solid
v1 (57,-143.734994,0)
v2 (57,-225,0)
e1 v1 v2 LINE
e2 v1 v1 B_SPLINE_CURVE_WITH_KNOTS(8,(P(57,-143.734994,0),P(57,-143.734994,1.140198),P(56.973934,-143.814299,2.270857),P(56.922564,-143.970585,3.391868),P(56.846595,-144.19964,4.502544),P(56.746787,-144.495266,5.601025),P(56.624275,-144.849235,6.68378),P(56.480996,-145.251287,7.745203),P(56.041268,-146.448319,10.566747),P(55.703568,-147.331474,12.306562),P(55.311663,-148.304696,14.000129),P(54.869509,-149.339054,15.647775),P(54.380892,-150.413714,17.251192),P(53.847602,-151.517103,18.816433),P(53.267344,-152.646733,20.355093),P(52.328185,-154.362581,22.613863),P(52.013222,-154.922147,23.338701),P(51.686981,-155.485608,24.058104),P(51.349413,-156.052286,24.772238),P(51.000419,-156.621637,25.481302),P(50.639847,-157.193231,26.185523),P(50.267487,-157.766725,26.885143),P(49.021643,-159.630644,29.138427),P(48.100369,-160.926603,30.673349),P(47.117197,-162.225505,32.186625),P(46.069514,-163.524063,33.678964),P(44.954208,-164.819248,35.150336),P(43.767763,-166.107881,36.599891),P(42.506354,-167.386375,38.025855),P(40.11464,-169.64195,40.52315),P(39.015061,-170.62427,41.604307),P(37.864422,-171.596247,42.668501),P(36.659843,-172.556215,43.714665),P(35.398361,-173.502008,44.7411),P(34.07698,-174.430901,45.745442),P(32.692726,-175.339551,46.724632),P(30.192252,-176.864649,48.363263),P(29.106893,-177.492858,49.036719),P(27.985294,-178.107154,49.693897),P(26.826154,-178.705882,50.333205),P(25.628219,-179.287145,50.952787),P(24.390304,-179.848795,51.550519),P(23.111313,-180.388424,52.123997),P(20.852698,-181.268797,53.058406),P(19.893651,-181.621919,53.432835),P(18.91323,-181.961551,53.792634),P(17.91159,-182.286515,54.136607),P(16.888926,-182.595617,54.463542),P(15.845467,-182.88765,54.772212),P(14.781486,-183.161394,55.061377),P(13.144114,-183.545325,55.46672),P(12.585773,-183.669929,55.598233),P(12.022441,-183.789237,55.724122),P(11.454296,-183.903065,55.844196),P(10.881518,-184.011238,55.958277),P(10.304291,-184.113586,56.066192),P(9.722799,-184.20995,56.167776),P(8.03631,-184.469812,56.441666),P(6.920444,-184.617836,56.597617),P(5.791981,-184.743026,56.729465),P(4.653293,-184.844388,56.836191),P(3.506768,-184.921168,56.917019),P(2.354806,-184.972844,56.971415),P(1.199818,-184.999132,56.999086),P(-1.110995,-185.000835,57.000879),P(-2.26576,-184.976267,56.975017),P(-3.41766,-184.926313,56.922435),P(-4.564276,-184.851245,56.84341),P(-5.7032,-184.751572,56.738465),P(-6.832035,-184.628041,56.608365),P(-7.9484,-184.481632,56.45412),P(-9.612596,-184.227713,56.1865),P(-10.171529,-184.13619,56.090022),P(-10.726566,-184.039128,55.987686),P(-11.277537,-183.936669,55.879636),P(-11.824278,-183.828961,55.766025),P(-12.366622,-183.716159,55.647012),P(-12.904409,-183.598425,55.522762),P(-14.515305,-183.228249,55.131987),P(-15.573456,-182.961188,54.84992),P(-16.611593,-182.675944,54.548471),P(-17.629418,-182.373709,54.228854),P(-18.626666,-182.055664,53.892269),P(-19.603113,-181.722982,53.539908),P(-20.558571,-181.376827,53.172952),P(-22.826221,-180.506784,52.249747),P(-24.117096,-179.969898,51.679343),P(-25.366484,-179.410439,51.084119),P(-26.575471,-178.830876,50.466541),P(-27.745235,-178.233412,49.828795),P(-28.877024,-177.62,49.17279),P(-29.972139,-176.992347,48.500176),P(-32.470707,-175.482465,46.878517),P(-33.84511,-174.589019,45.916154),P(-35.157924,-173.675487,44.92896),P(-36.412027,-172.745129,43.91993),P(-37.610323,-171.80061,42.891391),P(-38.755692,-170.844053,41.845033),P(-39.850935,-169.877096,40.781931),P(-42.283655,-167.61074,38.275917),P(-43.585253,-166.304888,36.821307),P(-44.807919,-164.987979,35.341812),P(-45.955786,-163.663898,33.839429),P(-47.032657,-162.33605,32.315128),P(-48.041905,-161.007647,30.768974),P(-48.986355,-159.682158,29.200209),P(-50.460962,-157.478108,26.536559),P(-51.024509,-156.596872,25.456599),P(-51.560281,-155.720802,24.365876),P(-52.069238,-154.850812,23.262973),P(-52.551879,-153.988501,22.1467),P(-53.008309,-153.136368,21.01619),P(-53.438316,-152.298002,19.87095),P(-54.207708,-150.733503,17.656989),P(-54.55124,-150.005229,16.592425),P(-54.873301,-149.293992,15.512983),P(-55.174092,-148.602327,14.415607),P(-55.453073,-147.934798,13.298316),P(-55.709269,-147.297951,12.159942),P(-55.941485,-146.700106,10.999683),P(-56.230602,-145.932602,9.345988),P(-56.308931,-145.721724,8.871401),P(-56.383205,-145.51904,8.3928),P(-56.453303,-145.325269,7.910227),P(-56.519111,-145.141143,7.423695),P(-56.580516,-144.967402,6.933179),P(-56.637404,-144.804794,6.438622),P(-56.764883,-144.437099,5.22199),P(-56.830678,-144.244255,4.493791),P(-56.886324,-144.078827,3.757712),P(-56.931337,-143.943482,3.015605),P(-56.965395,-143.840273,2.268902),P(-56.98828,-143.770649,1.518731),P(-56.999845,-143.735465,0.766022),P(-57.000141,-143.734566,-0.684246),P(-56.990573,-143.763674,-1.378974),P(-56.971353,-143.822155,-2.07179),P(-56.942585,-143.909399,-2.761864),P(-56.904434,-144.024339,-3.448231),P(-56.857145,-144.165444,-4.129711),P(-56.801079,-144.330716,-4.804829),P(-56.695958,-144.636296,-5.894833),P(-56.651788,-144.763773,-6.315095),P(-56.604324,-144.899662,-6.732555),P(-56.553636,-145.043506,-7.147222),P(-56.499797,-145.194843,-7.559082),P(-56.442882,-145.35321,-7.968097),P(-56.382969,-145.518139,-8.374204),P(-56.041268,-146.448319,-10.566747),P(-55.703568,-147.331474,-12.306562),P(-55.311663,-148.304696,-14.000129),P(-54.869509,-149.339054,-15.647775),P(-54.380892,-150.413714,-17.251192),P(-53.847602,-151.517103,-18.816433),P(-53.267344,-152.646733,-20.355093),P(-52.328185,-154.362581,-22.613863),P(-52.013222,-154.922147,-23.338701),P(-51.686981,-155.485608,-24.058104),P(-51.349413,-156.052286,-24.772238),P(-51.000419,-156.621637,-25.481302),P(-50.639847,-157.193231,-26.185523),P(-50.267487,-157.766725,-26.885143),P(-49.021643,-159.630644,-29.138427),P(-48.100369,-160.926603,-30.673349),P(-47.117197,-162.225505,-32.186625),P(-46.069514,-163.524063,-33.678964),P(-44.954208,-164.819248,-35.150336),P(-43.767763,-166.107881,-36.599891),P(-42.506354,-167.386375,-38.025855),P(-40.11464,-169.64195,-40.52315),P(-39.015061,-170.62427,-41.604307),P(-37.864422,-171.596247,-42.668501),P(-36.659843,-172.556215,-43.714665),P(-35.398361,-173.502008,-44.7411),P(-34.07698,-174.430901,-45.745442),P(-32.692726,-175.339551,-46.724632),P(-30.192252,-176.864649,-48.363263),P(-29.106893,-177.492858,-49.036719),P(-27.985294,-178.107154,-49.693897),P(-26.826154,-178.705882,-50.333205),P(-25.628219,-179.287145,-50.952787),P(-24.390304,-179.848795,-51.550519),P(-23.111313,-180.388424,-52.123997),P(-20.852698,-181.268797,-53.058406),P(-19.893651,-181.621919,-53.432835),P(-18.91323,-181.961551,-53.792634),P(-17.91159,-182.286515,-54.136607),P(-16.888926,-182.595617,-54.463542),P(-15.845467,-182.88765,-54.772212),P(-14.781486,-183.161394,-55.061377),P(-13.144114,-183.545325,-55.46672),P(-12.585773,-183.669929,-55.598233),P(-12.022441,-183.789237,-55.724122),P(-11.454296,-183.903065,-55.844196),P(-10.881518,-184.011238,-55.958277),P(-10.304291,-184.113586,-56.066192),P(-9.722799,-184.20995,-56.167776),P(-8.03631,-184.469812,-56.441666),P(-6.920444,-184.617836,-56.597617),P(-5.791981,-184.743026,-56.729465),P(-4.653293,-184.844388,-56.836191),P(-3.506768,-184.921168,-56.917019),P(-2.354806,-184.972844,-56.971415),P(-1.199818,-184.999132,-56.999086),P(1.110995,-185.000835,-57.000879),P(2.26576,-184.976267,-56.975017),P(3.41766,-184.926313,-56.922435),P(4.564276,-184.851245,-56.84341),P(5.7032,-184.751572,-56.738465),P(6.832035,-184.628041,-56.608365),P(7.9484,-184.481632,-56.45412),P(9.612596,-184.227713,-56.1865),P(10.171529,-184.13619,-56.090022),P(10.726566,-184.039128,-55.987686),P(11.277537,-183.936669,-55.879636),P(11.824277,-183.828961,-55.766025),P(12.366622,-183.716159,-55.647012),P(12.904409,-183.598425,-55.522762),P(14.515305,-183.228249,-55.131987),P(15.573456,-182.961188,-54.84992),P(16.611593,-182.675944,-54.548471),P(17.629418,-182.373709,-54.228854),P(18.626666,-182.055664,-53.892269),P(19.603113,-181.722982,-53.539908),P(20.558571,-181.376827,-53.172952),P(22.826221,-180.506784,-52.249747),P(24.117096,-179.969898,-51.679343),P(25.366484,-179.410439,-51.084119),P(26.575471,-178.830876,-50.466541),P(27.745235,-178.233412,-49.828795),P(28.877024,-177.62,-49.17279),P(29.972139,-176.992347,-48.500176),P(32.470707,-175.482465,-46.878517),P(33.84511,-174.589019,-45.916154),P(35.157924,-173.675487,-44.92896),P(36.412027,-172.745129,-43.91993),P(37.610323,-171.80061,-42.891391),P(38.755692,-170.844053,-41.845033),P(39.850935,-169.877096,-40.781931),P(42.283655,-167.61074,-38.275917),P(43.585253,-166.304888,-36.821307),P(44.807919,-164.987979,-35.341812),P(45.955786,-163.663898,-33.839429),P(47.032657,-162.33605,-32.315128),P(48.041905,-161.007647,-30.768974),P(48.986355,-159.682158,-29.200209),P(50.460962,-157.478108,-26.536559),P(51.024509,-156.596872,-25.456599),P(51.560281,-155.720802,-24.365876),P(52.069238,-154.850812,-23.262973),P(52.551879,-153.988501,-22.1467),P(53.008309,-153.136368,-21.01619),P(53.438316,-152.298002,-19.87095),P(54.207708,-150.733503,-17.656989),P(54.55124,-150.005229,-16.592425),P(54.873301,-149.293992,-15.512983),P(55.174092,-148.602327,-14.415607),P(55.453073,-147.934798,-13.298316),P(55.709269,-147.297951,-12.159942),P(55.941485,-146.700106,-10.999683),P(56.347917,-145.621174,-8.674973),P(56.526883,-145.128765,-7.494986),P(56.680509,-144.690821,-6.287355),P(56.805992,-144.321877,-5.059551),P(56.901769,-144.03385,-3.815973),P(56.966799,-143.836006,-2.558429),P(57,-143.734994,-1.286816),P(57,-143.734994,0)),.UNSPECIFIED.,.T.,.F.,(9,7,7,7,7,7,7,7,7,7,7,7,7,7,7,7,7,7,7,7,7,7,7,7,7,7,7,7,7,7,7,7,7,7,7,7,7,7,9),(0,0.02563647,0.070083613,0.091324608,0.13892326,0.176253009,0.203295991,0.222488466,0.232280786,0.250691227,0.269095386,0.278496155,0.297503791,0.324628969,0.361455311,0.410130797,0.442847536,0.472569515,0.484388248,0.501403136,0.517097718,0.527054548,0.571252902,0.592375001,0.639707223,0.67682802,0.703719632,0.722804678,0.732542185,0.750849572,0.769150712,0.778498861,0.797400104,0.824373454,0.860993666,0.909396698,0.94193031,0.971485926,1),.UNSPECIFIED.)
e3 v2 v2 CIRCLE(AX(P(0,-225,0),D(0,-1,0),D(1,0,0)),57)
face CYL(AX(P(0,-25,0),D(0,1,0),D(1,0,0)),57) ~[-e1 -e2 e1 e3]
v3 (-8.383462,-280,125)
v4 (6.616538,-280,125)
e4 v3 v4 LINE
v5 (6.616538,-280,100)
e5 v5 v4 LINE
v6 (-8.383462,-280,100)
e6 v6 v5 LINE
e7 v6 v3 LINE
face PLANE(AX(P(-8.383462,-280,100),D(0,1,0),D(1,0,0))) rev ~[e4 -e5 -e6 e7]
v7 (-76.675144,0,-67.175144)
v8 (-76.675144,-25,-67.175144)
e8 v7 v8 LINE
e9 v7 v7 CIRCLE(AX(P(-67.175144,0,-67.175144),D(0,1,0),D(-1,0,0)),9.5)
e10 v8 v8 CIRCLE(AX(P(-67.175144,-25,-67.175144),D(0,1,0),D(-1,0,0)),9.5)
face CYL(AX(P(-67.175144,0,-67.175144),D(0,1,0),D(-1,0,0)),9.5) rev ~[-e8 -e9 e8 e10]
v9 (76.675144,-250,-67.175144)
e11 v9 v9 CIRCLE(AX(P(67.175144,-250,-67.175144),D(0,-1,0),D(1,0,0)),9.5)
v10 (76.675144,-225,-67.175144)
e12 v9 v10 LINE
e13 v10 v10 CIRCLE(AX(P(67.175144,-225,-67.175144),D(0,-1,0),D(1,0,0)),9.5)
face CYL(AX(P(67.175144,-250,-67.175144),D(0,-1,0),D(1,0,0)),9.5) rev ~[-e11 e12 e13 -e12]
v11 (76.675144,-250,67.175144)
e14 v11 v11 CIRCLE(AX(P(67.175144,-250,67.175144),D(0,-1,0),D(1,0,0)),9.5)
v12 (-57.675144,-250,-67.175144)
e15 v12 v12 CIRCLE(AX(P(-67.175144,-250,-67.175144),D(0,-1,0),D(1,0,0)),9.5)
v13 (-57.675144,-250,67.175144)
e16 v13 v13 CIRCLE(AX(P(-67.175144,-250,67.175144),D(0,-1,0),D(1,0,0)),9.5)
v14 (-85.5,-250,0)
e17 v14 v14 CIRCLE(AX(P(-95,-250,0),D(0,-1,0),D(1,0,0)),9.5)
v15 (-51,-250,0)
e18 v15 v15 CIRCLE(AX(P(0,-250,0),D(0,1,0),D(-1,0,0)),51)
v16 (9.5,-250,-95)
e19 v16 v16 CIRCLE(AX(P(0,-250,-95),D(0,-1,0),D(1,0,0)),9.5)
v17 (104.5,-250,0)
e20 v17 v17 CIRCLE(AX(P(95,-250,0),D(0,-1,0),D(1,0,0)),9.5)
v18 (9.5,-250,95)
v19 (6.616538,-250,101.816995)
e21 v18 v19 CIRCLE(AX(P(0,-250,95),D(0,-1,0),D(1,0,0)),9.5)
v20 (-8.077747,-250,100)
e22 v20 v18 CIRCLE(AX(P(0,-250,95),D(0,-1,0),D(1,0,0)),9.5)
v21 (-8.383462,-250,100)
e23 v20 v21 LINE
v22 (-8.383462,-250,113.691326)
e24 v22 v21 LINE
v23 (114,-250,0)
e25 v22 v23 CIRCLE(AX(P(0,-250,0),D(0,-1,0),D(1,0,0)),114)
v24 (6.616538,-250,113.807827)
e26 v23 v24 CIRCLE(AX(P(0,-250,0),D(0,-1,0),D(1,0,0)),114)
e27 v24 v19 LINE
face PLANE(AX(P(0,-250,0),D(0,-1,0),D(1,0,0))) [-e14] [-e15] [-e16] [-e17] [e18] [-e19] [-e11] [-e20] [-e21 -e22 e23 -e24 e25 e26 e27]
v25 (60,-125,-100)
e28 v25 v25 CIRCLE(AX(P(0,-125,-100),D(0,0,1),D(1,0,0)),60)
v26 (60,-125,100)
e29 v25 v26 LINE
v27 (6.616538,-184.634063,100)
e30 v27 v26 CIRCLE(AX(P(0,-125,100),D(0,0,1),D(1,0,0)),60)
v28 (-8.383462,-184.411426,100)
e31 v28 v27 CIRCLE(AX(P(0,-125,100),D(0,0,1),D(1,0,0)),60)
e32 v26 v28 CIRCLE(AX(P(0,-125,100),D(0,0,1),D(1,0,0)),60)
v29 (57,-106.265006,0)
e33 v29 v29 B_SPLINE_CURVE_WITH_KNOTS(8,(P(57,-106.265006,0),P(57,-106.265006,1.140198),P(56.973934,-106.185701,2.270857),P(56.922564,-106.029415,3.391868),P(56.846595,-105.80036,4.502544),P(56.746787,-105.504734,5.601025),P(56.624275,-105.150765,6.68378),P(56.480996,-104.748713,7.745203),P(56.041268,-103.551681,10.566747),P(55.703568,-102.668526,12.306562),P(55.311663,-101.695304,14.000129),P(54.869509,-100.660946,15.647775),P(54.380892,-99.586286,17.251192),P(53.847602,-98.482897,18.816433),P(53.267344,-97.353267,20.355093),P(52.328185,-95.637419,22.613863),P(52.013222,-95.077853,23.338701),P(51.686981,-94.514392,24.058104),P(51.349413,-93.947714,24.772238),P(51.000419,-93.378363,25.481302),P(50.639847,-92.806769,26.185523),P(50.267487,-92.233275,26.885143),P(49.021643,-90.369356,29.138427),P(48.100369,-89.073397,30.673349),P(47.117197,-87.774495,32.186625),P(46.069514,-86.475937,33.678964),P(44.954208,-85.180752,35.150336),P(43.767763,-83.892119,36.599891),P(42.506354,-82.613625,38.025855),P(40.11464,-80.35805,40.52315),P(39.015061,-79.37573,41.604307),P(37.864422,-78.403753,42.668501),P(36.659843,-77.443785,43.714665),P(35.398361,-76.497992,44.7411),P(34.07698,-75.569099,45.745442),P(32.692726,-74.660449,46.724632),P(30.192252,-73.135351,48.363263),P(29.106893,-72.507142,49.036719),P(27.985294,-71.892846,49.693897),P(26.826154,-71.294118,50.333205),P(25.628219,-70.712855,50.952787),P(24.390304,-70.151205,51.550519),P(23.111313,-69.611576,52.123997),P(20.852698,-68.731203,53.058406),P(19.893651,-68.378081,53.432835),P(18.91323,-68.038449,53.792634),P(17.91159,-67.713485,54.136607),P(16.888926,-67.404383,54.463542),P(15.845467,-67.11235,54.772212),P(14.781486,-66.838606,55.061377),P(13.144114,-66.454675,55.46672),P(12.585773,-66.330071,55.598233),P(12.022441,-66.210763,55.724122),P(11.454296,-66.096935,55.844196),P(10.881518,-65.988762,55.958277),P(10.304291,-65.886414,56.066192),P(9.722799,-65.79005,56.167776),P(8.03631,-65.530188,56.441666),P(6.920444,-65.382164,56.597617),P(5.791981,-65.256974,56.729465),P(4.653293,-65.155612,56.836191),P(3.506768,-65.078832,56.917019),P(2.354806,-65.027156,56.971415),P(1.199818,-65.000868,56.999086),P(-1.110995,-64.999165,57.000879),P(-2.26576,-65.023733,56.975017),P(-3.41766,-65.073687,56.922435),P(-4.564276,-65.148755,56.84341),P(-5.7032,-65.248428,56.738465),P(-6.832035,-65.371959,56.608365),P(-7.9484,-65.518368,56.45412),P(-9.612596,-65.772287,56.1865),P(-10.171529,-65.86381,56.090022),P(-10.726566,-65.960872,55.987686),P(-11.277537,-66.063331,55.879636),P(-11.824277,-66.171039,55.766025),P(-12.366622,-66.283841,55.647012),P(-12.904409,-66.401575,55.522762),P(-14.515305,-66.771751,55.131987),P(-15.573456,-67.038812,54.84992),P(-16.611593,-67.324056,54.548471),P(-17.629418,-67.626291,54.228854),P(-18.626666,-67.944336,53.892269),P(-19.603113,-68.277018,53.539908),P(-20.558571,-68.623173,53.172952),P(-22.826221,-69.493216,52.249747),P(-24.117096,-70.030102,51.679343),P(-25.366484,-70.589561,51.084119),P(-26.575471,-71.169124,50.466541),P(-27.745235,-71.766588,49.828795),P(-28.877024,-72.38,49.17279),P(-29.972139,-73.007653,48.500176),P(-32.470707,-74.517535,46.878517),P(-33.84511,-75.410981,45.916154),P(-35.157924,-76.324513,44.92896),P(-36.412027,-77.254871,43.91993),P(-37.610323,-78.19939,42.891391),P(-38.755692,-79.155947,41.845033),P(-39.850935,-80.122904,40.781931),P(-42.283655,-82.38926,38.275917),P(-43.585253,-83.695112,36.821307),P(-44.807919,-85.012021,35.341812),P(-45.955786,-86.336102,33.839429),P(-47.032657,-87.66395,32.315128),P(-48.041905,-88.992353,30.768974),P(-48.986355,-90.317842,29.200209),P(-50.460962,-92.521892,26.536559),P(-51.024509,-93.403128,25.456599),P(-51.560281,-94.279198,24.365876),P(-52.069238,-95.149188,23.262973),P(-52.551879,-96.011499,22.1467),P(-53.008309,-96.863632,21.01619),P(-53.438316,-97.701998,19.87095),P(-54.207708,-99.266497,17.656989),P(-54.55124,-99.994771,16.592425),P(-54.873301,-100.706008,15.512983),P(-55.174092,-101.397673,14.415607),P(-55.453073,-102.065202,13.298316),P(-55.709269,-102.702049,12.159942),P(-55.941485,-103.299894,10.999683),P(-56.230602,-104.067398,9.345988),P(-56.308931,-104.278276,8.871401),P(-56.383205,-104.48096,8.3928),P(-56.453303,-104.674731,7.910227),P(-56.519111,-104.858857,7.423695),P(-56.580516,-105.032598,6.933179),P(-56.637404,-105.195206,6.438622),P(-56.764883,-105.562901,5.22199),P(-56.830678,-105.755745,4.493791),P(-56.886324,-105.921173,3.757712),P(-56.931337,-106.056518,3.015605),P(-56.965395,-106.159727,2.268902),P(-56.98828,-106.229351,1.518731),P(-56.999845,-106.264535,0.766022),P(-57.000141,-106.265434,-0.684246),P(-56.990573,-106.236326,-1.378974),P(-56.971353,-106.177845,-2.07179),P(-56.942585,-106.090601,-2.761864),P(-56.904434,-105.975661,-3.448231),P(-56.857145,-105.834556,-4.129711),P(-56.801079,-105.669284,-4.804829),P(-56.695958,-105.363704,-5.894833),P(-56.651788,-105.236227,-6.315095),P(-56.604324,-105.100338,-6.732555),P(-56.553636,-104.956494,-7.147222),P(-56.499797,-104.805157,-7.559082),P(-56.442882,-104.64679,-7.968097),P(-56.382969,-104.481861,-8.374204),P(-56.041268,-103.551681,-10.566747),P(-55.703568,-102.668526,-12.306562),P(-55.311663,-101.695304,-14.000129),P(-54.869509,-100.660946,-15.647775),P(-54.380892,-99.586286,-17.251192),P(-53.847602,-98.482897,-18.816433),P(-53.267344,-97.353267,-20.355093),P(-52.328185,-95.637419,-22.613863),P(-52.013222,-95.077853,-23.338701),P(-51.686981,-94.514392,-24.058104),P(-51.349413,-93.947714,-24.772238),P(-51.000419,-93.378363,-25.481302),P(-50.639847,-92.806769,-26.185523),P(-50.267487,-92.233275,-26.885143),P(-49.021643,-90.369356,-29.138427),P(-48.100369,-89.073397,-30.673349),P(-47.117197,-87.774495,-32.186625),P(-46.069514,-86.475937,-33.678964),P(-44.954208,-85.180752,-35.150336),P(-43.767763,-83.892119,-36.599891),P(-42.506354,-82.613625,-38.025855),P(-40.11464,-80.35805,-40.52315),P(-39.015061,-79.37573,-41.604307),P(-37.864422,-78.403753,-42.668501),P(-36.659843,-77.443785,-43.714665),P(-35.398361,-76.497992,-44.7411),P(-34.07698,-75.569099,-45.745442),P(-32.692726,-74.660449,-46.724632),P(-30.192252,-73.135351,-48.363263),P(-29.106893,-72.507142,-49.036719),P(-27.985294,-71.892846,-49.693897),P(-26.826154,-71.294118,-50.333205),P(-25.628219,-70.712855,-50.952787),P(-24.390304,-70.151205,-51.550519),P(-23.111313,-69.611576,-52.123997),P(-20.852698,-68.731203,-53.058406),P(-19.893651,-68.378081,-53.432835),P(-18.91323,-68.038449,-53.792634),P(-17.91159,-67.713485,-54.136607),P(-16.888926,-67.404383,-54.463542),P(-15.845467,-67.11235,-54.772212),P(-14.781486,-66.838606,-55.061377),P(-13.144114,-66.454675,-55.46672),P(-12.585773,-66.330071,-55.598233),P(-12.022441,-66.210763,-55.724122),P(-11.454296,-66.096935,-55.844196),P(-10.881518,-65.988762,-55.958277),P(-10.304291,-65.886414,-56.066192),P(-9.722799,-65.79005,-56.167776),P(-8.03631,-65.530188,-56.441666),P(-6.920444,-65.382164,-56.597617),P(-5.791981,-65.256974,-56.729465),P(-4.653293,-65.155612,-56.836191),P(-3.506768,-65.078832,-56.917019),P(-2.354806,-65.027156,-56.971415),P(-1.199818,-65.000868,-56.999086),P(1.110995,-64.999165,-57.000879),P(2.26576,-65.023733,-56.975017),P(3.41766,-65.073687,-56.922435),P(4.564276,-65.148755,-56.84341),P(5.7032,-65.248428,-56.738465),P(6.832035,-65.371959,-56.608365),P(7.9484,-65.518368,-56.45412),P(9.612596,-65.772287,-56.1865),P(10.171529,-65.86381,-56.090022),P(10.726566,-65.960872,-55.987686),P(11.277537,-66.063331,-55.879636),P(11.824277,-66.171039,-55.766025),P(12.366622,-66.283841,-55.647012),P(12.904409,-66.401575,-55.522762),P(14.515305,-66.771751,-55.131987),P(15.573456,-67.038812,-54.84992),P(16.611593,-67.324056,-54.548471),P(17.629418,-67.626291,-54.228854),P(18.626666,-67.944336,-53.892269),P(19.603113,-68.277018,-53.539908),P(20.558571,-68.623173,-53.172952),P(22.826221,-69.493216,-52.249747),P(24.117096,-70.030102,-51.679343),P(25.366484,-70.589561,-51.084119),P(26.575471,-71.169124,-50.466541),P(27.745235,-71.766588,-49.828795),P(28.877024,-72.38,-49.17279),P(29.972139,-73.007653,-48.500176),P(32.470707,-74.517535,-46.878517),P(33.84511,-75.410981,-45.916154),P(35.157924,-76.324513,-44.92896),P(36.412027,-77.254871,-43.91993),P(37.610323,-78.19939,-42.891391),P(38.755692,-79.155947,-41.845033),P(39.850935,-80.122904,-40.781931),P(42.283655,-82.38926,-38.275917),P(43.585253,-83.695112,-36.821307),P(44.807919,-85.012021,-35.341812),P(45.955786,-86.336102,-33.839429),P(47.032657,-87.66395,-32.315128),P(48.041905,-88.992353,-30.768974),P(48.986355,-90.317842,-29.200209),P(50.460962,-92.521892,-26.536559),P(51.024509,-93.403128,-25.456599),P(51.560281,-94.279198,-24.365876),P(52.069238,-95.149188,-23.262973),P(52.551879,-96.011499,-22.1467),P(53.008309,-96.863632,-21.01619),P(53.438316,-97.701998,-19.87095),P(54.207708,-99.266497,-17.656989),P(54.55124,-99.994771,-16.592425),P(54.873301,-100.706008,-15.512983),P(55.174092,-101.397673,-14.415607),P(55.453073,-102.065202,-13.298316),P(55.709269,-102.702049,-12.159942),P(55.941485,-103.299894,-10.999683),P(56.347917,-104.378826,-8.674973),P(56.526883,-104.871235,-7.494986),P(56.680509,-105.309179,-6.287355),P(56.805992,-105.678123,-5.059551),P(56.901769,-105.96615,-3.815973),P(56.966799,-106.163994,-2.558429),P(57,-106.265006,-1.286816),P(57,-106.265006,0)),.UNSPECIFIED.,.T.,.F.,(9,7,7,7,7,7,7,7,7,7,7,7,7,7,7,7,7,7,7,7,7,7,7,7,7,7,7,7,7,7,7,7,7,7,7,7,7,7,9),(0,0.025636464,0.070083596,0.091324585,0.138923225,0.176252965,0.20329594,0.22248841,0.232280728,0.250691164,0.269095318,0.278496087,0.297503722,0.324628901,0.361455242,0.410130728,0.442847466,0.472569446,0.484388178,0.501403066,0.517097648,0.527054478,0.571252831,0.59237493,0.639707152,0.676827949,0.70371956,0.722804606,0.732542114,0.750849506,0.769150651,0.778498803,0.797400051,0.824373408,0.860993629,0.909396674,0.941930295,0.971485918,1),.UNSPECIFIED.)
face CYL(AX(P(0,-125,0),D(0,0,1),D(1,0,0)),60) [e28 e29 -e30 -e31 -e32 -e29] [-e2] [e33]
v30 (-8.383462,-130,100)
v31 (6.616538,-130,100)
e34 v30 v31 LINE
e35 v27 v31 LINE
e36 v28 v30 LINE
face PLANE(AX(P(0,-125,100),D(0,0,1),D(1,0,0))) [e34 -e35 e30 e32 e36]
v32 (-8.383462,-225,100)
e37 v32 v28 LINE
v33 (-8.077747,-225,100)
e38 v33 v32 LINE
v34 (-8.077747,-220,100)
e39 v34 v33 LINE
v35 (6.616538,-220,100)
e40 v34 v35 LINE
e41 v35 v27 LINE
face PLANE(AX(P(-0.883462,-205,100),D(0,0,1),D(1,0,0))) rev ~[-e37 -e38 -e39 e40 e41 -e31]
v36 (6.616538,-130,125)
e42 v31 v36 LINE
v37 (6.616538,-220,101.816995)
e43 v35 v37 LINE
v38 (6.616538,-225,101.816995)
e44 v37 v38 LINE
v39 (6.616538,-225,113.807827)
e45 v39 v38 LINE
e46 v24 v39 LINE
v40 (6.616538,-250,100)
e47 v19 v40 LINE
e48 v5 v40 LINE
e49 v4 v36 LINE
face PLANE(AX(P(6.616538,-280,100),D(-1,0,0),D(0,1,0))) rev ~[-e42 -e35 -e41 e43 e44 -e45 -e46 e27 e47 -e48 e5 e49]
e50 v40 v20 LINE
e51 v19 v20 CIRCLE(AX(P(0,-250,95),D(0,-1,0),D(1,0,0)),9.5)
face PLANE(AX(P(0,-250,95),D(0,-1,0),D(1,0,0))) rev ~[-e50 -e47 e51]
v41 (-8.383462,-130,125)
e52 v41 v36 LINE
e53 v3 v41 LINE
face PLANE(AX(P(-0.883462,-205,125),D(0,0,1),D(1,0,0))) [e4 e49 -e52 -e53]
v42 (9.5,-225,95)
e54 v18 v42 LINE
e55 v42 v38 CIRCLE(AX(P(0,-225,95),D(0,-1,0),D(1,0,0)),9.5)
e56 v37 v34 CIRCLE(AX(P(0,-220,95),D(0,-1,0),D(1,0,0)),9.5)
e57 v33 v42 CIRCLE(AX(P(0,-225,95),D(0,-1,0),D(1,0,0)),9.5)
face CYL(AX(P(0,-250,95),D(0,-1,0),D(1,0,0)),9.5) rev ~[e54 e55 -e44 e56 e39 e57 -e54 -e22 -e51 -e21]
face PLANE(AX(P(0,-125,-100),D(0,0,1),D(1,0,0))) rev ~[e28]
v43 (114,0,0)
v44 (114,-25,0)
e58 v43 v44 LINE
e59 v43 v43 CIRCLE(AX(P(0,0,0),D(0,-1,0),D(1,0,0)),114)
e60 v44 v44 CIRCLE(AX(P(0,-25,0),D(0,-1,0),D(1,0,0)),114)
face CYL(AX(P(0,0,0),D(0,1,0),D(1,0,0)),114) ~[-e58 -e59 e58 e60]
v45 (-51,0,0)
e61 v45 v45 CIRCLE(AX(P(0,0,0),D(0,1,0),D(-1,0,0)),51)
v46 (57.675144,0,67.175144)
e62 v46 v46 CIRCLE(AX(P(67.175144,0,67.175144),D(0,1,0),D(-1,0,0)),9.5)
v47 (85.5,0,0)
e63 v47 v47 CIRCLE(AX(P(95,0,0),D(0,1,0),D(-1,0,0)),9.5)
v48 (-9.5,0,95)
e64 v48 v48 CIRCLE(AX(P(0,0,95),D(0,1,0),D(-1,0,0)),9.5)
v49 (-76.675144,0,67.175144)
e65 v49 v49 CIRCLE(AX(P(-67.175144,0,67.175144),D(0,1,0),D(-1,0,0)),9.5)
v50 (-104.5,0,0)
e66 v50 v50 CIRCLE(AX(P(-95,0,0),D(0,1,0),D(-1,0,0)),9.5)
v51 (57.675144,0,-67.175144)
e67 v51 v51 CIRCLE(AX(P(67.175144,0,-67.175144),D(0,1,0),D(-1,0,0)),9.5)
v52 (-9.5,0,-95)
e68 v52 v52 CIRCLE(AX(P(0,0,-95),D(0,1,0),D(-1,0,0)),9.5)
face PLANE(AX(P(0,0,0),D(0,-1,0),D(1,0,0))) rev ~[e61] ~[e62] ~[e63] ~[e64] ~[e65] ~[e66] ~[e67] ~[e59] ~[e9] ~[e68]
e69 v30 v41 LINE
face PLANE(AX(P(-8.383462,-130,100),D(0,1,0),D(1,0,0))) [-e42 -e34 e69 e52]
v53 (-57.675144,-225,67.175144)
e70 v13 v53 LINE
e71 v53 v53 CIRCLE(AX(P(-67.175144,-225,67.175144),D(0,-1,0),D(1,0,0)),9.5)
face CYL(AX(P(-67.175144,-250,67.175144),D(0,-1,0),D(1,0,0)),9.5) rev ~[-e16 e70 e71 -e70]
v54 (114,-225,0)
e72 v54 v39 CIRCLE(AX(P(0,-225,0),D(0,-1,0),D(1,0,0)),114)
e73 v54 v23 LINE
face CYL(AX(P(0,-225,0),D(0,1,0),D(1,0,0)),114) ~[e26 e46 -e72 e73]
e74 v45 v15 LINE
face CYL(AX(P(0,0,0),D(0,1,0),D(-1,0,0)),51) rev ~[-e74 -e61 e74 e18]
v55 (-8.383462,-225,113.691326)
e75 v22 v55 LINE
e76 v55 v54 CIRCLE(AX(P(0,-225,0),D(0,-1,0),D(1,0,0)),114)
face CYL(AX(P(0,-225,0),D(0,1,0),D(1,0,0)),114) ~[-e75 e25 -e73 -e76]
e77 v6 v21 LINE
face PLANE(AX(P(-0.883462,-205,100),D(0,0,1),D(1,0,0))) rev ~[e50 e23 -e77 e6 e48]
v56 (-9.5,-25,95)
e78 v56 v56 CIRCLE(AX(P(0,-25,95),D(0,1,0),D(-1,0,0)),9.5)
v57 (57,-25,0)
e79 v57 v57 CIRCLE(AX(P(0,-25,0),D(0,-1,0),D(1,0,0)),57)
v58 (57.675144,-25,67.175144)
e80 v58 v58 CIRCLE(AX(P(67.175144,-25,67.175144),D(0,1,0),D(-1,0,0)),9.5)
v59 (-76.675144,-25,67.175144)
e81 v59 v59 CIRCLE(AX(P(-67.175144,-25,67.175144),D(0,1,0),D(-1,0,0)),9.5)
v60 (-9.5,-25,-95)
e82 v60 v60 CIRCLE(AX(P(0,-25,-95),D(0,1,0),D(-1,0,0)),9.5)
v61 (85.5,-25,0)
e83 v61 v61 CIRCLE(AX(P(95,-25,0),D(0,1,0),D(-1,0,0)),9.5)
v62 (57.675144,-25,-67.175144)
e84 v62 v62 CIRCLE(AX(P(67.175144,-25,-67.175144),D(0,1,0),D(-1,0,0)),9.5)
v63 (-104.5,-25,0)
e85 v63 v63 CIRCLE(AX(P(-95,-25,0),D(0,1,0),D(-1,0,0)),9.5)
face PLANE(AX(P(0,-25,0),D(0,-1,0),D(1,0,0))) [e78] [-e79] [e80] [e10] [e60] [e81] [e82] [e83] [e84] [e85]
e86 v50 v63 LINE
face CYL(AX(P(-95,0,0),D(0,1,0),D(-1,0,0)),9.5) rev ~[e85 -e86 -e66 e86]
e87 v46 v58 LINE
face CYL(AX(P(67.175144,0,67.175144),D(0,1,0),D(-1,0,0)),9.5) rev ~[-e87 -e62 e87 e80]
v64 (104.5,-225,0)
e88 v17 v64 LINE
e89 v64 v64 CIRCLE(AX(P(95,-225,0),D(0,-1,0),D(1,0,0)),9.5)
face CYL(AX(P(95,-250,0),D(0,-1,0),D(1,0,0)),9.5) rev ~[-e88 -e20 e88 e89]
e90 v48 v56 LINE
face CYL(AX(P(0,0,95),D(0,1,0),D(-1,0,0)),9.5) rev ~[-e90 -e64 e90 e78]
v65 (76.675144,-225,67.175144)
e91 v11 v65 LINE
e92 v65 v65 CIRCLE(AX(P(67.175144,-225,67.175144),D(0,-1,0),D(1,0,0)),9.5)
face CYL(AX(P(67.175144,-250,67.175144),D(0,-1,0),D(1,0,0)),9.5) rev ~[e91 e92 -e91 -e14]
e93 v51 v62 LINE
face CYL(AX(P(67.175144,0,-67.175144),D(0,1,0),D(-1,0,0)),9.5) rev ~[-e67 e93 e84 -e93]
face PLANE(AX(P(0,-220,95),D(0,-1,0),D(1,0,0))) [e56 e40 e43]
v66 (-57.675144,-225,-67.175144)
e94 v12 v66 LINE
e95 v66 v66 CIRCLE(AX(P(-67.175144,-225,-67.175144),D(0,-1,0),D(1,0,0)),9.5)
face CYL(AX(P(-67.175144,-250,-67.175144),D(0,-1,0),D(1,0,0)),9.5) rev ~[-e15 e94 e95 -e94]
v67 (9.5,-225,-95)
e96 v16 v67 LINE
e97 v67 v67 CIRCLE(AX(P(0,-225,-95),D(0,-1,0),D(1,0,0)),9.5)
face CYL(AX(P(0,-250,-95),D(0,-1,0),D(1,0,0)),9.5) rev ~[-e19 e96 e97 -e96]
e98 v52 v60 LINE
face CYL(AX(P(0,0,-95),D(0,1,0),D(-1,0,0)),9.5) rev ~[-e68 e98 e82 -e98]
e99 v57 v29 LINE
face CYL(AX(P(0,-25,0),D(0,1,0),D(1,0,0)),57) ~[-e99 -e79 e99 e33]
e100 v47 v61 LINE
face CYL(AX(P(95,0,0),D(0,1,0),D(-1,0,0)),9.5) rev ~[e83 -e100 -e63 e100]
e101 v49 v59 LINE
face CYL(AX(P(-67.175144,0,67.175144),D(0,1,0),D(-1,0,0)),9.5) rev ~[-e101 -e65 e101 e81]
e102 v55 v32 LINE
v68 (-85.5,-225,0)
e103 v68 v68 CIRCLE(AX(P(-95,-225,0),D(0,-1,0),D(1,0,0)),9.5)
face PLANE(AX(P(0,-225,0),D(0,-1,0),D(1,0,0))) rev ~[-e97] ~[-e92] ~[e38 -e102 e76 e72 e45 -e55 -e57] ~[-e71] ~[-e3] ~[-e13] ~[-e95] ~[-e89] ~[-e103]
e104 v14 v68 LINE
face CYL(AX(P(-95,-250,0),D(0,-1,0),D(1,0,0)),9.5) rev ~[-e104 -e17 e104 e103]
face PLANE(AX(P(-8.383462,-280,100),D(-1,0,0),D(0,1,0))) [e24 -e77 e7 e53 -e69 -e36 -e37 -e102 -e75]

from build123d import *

# Parameters (mm, degrees)
F0_R      = 114
F1_DEPTH  = 25
F2_R      = 57
F3_DEPTH  = 200
F4_R      = 114
F5_DEPTH  = 25
F6_R      = 60
F7_DEPTH  = 100
F8_W      = 15
F8_H      = 150
F9_DEPTH  = 25
F10_R     = 9.5
F11_DEPTH = 30
F12_R     = 9.5
F13_DEPTH = 30
F14_R     = 51
F15_DEPTH = 1000


with BuildPart() as f1:
    # F0 (on Front) → F1 (new body)
    with BuildSketch(Plane.XZ):
        Circle(F0_R)
    extrude(amount=F1_DEPTH)

    # F2 (on face) → F3 (join)
    with BuildSketch(Plane.XZ.offset(25)):
        Circle(F2_R)
    extrude(amount=F3_DEPTH)

    # F4 (on face) → F5 (join)
    with BuildSketch(Plane.XZ.offset(225)):
        Circle(F4_R)
    extrude(amount=F5_DEPTH)

    # F6 (on Top) → F7 (join, symmetric)
    with BuildSketch(Plane.XY):
        with Locations((0, -125)):
            Circle(F6_R)
    extrude(amount=F7_DEPTH, both=True)

    # F8 (on face) → F9 (join)
    with BuildSketch(Plane.XY.offset(100)):
        with Locations((-0.883462, -205)):
            Rectangle(F8_W, F8_H)
    extrude(amount=F9_DEPTH)

    # F10 (on face) → F11 (cut)
    with BuildSketch(Plane.XZ.offset(250)):
        with Locations((0, 95)):
            Circle(F10_R)
        with Locations((-67.175144, 67.175144)):
            Circle(F10_R)
        with Locations((-95, 0)):
            Circle(F10_R)
        with Locations((-67.175144, -67.175144)):
            Circle(F10_R)
        with Locations((0, -95)):
            Circle(F10_R)
        with Locations((67.175144, -67.175144)):
            Circle(F10_R)
        with Locations((95, 0)):
            Circle(F10_R)
        with Locations((67.175144, 67.175144)):
            Circle(F10_R)
    extrude(amount=-F11_DEPTH, mode=Mode.SUBTRACT)

    # F12 (on face) → F13 (cut)
    with BuildSketch(Plane(origin=(0, 0, 0), x_dir=(-1, 0, 0), z_dir=(0, 1, 0))):
        with Locations((0, 95)):
            Circle(F12_R)
        with Locations((-67.175144, 67.175144)):
            Circle(F12_R)
        with Locations((-95, 0)):
            Circle(F12_R)
        with Locations((-67.175144, -67.175144)):
            Circle(F12_R)
        with Locations((0, -95)):
            Circle(F12_R)
        with Locations((67.175144, -67.175144)):
            Circle(F12_R)
        with Locations((95, 0)):
            Circle(F12_R)
        with Locations((67.175144, 67.175144)):
            Circle(F12_R)
    extrude(amount=-F13_DEPTH, mode=Mode.SUBTRACT)

    # F14 (on face) → F15 (cut)
    with BuildSketch(Plane(origin=(0, 0, 0), x_dir=(-1, 0, 0), z_dir=(0, 1, 0))):
        Circle(F14_R)
    extrude(amount=-F15_DEPTH, mode=Mode.SUBTRACT)


solid = f1.part
